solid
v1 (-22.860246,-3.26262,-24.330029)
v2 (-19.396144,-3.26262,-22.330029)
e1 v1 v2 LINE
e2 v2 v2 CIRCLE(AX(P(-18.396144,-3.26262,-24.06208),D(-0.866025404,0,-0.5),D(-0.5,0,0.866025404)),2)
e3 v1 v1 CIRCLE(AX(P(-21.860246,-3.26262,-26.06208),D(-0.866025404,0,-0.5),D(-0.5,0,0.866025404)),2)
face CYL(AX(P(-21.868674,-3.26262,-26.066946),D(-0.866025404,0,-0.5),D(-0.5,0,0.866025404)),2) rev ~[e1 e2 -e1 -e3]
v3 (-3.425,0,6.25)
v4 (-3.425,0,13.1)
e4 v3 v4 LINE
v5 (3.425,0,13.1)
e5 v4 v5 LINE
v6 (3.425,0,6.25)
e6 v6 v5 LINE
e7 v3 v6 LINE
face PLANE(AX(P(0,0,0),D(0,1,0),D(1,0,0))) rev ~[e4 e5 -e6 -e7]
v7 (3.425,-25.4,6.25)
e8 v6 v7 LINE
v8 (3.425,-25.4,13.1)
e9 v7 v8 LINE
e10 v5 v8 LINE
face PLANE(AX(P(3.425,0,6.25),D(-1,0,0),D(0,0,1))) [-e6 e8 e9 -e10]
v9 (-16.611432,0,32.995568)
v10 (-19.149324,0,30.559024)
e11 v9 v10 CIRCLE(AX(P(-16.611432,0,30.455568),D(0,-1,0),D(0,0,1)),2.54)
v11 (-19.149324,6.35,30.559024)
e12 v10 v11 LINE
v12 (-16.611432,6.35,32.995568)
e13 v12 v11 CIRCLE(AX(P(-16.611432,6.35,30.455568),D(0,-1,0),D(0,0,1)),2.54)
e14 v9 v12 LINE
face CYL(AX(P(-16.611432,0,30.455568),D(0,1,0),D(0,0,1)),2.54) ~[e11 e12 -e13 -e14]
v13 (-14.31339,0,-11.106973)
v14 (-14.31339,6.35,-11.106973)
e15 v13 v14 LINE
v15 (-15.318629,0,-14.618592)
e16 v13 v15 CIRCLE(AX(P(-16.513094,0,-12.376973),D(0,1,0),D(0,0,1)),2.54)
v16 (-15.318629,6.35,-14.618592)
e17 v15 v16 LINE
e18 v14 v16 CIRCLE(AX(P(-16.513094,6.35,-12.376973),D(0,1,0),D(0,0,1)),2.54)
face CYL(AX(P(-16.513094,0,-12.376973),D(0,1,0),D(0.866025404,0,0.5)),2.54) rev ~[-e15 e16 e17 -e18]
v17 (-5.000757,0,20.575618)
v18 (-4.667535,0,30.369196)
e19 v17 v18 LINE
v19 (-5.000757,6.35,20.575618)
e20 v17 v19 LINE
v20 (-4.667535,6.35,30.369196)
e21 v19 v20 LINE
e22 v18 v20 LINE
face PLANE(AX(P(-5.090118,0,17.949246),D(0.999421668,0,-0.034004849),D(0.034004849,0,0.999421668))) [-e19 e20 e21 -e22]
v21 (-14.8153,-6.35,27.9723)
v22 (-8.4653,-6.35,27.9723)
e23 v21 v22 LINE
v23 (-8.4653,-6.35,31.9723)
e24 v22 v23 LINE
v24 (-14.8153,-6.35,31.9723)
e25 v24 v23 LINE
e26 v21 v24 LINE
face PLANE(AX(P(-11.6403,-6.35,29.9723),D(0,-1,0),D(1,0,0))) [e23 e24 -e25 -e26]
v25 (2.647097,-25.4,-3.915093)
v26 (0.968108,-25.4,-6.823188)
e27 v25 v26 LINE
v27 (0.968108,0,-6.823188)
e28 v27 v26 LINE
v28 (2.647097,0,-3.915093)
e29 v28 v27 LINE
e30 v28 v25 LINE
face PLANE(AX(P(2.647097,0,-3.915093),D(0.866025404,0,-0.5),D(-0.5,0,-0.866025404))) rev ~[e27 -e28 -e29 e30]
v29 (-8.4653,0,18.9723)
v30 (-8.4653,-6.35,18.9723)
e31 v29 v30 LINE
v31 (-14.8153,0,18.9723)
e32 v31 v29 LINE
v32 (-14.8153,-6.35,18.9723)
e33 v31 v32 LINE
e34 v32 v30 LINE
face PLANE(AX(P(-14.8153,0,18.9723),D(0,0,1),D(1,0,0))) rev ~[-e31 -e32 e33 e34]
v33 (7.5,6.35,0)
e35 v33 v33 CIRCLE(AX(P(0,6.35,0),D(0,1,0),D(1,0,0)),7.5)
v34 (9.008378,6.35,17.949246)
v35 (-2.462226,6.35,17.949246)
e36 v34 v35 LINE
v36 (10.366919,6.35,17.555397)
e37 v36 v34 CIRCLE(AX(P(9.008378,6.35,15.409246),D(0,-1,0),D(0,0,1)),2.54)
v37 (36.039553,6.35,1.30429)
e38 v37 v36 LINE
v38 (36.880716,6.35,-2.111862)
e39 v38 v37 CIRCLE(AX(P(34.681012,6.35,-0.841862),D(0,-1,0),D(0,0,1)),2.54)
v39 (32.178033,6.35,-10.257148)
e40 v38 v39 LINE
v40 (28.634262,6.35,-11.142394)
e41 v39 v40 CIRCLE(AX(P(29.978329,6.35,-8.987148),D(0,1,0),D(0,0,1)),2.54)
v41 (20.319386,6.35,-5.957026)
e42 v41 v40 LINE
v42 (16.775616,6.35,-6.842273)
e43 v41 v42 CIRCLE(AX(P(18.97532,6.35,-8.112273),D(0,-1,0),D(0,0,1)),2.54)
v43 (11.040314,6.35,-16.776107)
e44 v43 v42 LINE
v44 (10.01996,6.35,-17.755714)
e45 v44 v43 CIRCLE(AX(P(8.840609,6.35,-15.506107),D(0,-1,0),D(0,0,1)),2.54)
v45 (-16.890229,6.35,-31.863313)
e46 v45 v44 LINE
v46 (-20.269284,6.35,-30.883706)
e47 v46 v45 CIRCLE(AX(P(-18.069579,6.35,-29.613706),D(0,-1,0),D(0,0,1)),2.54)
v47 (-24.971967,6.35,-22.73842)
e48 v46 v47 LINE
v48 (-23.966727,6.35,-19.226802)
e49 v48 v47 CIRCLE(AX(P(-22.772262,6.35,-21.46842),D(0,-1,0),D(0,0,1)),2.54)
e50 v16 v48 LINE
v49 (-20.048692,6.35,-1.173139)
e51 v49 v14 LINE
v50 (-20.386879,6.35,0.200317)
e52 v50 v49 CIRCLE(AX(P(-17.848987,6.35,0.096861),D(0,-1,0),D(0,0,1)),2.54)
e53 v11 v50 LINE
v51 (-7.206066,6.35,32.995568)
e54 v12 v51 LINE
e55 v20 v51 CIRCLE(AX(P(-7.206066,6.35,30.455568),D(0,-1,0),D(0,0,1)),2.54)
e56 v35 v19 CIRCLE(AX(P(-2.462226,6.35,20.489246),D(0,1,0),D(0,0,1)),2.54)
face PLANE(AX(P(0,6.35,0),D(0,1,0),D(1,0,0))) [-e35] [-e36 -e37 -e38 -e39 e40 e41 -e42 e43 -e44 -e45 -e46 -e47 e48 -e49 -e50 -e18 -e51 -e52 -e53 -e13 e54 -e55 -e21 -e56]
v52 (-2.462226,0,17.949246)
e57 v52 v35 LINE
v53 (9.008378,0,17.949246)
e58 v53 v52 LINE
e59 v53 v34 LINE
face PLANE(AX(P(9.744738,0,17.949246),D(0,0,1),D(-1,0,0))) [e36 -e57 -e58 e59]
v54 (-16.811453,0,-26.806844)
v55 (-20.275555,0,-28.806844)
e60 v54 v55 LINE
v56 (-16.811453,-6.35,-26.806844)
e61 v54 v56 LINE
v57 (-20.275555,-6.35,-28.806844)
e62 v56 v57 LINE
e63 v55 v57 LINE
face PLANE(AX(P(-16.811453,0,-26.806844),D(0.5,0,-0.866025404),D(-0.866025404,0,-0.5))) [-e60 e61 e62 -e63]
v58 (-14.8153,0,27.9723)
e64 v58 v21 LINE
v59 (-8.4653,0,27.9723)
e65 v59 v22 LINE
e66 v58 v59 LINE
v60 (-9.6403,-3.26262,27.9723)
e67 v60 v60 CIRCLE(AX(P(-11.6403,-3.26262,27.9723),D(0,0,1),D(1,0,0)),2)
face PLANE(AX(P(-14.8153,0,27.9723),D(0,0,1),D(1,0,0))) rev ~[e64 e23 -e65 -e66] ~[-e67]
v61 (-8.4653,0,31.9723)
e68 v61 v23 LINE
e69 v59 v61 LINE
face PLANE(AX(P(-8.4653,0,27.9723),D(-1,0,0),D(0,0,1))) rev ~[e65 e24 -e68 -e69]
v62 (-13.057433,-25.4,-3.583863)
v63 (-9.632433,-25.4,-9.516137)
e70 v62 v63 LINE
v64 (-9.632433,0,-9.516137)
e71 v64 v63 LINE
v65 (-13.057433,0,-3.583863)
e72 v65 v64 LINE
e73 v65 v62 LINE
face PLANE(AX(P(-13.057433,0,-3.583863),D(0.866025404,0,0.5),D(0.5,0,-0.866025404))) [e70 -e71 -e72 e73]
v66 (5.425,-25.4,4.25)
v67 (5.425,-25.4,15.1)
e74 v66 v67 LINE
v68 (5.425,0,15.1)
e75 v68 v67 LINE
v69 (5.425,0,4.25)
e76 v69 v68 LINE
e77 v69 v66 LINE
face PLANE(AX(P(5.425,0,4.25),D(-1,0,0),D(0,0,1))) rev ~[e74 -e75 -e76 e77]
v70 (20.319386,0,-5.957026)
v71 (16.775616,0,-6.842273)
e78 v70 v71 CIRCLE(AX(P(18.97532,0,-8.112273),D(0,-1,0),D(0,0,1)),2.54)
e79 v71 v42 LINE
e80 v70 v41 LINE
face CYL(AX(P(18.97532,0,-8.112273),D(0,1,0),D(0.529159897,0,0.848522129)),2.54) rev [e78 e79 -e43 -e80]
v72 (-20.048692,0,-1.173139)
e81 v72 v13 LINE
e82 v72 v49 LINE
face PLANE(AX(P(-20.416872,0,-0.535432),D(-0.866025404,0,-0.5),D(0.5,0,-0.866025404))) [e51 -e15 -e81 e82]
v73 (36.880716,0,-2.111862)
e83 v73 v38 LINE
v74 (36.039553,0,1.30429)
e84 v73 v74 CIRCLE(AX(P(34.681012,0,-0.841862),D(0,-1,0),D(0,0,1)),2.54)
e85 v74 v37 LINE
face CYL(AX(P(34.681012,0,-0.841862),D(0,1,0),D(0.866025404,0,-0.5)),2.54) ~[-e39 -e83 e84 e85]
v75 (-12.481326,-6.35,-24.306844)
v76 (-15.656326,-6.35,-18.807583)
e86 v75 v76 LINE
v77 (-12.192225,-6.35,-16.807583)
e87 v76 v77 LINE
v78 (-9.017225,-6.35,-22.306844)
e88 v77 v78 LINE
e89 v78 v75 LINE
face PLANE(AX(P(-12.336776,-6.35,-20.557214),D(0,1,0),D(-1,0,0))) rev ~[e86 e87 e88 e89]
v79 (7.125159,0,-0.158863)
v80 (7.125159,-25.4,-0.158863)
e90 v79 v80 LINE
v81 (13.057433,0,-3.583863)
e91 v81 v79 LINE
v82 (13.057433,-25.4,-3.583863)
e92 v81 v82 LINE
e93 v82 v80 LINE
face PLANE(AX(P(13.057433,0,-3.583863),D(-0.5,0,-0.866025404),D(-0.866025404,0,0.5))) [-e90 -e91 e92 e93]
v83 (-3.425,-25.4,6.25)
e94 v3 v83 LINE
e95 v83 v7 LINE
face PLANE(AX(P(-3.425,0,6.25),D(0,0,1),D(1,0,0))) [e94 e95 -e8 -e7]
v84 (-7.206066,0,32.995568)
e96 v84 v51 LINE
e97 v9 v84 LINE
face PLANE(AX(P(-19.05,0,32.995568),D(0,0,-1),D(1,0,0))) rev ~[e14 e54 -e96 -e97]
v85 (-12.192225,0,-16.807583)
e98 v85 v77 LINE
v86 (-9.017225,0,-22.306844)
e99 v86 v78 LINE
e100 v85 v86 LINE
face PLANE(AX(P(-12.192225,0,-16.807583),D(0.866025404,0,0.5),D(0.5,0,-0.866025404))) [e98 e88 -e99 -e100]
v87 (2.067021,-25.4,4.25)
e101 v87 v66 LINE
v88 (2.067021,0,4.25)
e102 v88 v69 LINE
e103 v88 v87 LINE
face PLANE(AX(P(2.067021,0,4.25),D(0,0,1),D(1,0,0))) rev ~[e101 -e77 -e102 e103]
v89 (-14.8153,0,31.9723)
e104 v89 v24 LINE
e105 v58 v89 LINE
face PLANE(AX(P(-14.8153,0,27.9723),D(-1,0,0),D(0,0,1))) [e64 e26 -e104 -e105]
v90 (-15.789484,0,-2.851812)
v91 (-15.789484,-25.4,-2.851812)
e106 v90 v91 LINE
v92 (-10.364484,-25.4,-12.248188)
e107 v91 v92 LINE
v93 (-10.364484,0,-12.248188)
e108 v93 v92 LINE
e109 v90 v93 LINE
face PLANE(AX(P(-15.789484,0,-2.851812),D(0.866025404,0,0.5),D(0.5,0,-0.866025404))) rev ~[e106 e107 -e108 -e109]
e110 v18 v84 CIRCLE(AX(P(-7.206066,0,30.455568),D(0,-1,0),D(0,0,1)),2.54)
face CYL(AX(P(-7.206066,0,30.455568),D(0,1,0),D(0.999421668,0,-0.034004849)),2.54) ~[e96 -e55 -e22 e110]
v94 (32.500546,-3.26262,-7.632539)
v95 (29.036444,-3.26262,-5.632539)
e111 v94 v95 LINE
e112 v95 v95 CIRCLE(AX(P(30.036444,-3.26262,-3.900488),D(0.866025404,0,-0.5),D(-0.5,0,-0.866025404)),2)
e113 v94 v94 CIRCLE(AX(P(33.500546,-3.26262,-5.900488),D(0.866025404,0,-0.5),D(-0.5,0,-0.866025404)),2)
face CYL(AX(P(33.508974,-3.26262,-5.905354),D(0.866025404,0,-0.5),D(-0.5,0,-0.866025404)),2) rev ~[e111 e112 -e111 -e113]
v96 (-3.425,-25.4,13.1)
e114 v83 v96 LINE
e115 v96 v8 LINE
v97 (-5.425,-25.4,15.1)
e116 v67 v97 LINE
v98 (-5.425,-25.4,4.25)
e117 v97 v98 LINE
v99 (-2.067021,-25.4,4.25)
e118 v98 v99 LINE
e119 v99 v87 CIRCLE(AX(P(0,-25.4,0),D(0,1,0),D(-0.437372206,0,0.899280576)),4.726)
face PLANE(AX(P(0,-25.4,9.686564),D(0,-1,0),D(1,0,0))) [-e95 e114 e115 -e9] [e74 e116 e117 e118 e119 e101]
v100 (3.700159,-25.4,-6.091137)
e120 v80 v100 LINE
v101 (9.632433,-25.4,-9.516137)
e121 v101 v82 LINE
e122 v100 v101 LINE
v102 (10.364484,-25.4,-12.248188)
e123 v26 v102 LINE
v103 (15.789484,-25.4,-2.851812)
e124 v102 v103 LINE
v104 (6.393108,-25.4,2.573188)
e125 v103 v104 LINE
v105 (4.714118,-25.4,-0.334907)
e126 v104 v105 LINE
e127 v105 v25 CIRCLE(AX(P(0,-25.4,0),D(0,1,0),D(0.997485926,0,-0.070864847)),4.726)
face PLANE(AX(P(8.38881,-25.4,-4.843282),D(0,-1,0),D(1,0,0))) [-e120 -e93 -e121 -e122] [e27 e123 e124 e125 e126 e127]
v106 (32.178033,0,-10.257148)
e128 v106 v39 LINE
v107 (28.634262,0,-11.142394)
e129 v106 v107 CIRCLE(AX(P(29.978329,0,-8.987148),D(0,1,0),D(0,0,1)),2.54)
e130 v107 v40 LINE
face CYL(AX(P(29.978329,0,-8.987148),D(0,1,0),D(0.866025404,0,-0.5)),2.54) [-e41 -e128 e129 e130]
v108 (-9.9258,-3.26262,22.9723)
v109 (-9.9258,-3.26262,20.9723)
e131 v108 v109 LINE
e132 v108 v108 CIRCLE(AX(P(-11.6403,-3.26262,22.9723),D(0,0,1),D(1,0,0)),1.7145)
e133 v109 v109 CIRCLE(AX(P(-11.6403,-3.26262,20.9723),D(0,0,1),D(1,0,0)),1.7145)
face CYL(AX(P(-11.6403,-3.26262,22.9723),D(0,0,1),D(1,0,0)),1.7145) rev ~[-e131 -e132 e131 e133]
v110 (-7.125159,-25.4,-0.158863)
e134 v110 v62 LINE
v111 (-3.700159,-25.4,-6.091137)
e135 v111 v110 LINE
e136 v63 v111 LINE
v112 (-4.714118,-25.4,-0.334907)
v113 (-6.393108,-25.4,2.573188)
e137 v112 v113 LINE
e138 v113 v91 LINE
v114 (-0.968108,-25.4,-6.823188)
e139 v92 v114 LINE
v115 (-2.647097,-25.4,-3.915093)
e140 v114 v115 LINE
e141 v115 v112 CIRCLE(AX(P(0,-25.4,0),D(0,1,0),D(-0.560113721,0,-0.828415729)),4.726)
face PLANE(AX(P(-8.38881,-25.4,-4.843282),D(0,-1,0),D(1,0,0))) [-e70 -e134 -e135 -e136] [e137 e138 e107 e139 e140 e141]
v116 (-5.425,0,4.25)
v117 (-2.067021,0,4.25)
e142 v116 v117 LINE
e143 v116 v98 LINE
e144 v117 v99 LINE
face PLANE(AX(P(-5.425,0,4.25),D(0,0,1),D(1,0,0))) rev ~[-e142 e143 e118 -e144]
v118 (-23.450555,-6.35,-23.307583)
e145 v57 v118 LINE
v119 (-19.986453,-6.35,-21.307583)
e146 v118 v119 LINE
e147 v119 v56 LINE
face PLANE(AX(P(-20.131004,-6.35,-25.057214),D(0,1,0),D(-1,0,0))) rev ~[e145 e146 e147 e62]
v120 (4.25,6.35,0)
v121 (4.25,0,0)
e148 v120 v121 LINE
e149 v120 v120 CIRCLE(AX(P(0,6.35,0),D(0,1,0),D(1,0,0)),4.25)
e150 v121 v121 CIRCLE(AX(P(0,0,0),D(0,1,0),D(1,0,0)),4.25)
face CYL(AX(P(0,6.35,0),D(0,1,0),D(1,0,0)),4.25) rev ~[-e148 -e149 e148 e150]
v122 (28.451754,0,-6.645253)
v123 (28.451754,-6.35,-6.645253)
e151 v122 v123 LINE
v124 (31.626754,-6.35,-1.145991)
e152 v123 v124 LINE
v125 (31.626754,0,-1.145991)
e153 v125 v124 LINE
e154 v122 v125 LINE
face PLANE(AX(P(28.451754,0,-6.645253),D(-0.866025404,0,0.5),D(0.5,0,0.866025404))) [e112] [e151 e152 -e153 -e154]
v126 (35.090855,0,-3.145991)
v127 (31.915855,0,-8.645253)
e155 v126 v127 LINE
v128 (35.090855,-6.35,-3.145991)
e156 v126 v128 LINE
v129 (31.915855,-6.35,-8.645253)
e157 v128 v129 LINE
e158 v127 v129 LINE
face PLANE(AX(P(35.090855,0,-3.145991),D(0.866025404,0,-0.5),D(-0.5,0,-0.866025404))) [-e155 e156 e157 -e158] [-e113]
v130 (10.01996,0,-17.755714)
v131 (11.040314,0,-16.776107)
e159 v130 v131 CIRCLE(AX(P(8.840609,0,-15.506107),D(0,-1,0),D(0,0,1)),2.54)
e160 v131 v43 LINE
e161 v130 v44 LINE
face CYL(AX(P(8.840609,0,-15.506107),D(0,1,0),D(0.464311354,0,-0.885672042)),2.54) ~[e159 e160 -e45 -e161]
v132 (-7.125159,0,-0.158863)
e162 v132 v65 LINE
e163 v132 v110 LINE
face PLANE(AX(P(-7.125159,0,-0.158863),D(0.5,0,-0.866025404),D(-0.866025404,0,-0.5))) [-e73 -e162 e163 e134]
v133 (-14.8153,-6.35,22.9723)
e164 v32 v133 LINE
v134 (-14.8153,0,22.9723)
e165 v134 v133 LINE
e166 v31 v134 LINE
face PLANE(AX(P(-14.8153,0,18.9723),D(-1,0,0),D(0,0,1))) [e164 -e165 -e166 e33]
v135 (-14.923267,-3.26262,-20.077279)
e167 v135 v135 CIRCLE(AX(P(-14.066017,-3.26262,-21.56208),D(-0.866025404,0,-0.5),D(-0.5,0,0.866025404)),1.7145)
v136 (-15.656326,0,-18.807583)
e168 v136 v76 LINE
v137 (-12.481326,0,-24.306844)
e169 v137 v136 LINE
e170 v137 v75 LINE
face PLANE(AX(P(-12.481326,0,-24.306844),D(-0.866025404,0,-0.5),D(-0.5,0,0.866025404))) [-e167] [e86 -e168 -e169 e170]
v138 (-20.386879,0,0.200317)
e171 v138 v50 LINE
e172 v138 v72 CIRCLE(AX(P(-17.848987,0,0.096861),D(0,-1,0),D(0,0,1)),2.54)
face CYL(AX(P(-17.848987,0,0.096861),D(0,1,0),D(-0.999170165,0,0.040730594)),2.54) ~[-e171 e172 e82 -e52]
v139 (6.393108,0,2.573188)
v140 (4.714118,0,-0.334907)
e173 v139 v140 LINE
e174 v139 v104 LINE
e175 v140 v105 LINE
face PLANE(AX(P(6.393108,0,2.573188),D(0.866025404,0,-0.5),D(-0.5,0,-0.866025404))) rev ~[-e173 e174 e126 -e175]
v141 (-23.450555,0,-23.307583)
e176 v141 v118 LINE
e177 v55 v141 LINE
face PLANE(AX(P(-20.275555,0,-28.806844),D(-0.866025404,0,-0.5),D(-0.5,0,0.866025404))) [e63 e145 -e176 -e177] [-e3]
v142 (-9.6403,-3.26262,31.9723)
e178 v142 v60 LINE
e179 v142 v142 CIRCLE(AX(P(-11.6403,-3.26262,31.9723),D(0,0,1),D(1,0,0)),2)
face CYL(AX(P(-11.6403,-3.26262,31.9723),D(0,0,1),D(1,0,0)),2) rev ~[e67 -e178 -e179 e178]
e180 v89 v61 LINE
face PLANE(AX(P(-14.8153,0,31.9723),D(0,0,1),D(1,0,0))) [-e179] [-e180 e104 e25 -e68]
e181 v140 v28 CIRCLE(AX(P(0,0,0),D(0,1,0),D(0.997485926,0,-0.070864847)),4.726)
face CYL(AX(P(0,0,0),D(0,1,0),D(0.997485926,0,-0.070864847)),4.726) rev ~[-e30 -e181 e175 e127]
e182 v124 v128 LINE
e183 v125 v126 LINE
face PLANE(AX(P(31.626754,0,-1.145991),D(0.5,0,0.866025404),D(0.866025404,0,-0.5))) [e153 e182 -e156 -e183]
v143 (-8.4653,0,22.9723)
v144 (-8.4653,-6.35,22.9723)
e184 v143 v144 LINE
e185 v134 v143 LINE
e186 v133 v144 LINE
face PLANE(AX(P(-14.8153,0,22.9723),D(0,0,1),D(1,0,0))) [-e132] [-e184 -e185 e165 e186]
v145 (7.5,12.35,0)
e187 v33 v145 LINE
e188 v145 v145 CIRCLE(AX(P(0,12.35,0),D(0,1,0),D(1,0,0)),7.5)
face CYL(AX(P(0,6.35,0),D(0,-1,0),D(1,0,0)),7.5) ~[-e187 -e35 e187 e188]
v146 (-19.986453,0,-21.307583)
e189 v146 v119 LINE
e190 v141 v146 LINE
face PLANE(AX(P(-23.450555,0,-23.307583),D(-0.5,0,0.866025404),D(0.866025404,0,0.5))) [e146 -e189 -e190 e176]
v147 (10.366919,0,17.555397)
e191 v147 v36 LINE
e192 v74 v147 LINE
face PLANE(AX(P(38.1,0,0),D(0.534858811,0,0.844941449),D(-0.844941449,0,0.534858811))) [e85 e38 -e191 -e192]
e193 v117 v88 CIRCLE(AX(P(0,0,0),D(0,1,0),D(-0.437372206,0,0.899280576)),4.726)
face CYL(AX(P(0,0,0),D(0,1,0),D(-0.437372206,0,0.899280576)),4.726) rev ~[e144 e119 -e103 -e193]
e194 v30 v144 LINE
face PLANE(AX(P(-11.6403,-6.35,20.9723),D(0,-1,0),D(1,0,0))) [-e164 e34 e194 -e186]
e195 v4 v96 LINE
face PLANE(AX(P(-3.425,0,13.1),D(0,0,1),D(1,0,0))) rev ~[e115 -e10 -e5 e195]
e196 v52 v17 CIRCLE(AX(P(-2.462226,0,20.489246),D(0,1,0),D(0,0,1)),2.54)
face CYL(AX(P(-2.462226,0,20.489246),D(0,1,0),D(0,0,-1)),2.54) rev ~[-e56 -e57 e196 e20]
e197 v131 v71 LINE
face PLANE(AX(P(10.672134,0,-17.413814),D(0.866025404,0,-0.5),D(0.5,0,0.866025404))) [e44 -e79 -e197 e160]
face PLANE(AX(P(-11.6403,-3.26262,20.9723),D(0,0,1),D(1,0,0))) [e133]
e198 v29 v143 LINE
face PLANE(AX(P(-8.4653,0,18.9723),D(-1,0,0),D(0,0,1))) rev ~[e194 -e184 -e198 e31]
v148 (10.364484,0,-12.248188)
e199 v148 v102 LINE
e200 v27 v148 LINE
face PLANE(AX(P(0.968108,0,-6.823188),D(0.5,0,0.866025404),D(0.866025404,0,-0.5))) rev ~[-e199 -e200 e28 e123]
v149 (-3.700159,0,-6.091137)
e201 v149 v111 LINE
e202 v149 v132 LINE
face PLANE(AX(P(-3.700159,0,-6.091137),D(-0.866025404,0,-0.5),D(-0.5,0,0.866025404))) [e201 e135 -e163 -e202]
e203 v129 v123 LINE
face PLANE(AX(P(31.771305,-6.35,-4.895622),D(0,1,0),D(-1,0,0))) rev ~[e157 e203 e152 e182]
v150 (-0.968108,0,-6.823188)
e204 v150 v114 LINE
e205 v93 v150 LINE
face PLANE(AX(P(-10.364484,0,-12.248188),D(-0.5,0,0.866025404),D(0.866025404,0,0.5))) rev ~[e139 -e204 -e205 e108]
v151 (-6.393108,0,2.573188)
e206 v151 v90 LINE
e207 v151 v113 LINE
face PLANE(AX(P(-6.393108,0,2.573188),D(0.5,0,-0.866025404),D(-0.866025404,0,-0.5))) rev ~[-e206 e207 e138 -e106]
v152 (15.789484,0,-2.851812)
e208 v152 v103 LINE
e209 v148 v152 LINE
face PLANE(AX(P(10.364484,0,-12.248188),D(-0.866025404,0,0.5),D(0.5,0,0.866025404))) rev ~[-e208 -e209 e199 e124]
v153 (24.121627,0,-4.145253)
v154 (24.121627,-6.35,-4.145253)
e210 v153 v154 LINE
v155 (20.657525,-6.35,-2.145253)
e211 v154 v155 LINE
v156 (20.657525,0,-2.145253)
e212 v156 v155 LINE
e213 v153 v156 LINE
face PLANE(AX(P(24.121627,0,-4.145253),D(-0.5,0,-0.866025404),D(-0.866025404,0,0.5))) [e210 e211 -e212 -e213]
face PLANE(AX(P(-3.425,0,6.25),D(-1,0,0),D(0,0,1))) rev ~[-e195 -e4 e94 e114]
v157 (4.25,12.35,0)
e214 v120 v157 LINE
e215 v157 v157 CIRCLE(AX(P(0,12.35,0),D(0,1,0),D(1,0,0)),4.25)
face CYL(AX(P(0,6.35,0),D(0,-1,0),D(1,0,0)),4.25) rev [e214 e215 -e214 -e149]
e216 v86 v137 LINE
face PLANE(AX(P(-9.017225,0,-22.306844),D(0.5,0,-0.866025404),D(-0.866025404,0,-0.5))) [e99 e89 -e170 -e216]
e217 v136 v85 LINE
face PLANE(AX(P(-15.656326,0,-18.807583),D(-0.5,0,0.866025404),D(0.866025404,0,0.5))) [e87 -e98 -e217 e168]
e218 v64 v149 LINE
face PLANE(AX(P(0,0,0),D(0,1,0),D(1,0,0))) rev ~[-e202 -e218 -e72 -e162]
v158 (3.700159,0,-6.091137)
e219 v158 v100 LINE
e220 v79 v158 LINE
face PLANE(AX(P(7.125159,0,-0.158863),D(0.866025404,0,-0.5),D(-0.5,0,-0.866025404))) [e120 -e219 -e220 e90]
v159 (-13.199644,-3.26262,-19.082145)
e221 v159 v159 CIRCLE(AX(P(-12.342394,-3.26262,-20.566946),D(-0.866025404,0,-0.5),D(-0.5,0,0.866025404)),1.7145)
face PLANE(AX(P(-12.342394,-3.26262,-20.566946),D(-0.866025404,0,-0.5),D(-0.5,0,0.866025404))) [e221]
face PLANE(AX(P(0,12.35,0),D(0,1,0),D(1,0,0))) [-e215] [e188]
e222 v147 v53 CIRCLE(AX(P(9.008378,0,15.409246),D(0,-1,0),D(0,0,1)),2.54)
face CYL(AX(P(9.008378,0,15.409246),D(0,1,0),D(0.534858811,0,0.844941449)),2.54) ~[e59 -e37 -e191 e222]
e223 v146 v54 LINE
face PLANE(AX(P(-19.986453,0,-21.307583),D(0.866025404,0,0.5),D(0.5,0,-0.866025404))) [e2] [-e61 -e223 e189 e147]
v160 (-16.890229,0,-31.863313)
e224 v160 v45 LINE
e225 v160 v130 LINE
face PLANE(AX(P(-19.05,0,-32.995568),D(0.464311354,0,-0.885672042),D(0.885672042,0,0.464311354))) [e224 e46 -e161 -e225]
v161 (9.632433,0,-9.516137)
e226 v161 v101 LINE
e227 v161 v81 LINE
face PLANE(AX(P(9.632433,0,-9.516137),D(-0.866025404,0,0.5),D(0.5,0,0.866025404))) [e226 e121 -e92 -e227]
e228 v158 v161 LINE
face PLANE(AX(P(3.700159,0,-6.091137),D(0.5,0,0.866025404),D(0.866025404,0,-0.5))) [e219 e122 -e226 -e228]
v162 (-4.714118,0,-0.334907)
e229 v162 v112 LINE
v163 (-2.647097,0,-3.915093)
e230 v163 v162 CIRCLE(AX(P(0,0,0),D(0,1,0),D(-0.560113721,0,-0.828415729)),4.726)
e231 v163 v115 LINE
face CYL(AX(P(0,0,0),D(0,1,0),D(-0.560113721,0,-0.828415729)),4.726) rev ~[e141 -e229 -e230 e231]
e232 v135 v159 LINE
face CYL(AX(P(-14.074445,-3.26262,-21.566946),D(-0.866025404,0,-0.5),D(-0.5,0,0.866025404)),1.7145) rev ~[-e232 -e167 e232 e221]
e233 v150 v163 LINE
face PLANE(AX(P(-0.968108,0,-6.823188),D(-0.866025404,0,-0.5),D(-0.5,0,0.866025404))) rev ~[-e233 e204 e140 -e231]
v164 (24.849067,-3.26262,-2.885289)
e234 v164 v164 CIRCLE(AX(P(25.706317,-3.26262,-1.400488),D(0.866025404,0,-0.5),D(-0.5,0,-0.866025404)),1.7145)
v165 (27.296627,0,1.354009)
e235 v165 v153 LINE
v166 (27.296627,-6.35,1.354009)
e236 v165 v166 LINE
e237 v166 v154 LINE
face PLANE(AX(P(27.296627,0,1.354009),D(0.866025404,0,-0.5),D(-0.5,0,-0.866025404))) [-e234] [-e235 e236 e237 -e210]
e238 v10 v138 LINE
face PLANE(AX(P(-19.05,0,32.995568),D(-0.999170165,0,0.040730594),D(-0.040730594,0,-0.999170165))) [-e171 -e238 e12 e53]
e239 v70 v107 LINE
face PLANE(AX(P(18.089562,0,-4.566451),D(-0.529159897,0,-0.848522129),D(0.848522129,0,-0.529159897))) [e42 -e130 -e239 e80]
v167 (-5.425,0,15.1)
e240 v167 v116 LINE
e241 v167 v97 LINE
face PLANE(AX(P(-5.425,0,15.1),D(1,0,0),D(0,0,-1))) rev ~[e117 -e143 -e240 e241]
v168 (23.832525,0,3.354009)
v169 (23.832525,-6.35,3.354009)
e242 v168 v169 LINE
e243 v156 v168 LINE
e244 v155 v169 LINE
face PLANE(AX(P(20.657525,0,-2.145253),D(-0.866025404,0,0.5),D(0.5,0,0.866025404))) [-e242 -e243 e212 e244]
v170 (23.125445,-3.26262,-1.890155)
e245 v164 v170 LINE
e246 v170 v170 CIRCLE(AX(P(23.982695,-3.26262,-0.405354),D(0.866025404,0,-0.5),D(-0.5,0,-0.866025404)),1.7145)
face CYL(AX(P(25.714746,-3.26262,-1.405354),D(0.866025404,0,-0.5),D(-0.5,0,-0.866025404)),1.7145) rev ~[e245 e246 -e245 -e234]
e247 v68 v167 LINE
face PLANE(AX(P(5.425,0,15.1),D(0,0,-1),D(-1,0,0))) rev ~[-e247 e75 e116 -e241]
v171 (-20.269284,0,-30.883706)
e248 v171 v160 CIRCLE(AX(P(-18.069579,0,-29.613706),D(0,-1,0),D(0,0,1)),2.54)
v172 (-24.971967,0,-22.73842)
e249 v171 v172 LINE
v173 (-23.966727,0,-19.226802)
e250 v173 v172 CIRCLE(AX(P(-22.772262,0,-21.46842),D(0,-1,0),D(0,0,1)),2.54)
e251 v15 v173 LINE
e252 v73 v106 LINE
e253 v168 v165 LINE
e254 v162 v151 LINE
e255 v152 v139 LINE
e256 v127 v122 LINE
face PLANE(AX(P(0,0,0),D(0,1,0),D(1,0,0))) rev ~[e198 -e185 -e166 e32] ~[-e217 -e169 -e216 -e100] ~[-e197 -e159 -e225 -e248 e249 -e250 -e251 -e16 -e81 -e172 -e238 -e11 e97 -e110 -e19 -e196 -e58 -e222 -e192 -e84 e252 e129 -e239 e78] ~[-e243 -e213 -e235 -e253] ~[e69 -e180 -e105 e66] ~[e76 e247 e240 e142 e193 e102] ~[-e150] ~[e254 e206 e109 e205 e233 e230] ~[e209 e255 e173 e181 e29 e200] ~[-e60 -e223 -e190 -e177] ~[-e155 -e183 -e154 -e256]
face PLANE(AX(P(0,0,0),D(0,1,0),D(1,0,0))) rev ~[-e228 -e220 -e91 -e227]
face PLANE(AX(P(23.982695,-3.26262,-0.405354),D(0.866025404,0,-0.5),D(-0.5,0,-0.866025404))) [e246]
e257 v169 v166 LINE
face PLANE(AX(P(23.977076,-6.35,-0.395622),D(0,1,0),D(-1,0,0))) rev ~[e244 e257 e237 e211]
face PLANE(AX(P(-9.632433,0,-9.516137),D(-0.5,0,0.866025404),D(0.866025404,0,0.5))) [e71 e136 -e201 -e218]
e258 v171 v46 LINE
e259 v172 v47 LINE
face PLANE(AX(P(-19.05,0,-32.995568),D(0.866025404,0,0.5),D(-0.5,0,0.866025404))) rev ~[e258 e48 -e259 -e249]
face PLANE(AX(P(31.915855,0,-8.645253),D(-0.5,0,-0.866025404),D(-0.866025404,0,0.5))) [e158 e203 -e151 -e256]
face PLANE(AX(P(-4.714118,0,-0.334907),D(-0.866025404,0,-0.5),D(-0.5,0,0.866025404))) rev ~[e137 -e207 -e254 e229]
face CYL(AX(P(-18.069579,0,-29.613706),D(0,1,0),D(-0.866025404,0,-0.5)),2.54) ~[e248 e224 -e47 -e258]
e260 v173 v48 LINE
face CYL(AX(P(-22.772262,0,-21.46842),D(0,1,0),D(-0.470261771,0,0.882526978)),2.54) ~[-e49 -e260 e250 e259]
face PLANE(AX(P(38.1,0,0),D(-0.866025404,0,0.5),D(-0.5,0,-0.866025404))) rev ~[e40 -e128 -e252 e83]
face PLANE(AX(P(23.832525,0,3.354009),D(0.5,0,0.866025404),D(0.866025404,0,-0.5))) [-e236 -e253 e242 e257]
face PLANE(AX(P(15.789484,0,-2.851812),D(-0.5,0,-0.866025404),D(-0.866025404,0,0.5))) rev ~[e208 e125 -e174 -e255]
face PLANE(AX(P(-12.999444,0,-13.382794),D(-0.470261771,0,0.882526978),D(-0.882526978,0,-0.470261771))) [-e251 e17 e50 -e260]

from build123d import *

# Parameters (mm, degrees)
BOSS_EXTRUDE1_DEPTH = 6.35
SKETCH6_R           = 4.250000001
CUT_EXTRUDE1_DEPTH  = 7.35
SKETCH2_W           = 6.85
SKETCH2_H           = 6.85
BOSS_EXTRUDE2_DEPTH = 25.4
SKETCH7_W           = 6.35
SKETCH7_H           = 4
BOSS_EXTRUDE3_DEPTH = 6.35
SKETCH9_R           = 2
CUT_EXTRUDE2_DEPTH  = 6.540000128
CIRPATTERN1_COUNT   = 3
SKETCH10_R          = 1.7145
CUT_EXTRUDE3_DEPTH  = 2
CIRPATTERN2_COUNT   = 3
CUT_EXTRUDE4_DEPTH  = 6.35
FILLET1_R           = 2.54
SKETCH12_R          = 7.5
SKETCH12_R_2        = 4.250000001
BOSS_EXTRUDE4_DEPTH = 6


with BuildPart() as part:
    # Sketch1 → Boss-Extrude1 (new body)
    with BuildSketch(Plane(origin=(0, 0, 0), x_dir=(1, 0, 0), z_dir=(0, 1, 0))):
        Polygon((19.05, -32.995567884), (38.1, 0), (19.05, 32.995567884), (-19.05, 32.995567884), (-38.1, 0), (-19.05, -32.995567884), align=None)
    extrude(amount=BOSS_EXTRUDE1_DEPTH)

    # Sketch6 → Cut-Extrude1 (cut, through all)
    with BuildSketch(Plane(origin=(0, 6.35, 0), x_dir=(1, 0, 0), z_dir=(0, 1, 0))):
        Circle(SKETCH6_R)
    extrude(amount=-CUT_EXTRUDE1_DEPTH, mode=Mode.SUBTRACT)

    # Sketch2 → Boss-Extrude2 (add)
    with BuildSketch(Plane.XZ):
        with BuildLine():
            Line((-5.425, 15.1), (-5.425, 4.25))
            Line((-5.425, 4.25), (-2.067021045, 4.25))
            ThreePointArc((-2.067021045, 4.25), (0, 4.726), (2.067021045, 4.25))
            Line((2.067021045, 4.25), (5.425, 4.25))
            Line((5.425, 4.25), (5.425, 15.1))
            Line((5.425, 15.1), (-5.425, 15.1))
        make_face()
        with Locations((0, 9.675)):
            Rectangle(SKETCH2_W, SKETCH2_H, mode=Mode.SUBTRACT)
        with BuildLine():
            Line((2.647097444, -3.915092735), (0.968107966, -6.823187816))
            Line((0.968107966, -6.823187816), (10.364483597, -12.248187816))
            Line((10.364483597, -12.248187816), (15.789483597, -2.851812184))
            Line((15.789483597, -2.851812184), (6.393107966, 2.573187816))
            Line((6.393107966, 2.573187816), (4.714118489, -0.334907265))
            ThreePointArc((4.714118489, -0.334907265), (4.092836058, -2.363), (2.647097444, -3.915092735))
        make_face()
        Polygon((13.05743279, -3.583862992), (7.125158774, -0.158862992), (3.700158774, -6.091137008), (9.63243279, -9.516137008), align=None, mode=Mode.SUBTRACT)
        with BuildLine():
            Line((-4.714118489, -0.334907265), (-6.393107966, 2.573187816))
            Line((-6.393107966, 2.573187816), (-15.789483597, -2.851812184))
            Line((-15.789483597, -2.851812184), (-10.364483597, -12.248187816))
            Line((-10.364483597, -12.248187816), (-0.968107966, -6.823187816))
            Line((-0.968107966, -6.823187816), (-2.647097444, -3.915092735))
            ThreePointArc((-2.647097444, -3.915092735), (-4.092836058, -2.363), (-4.714118489, -0.334907265))
        make_face()
        Polygon((-9.63243279, -9.516137008), (-3.700158774, -6.091137008), (-7.125158774, -0.158862992), (-13.05743279, -3.583862992), align=None, mode=Mode.SUBTRACT)
    extrude(amount=BOSS_EXTRUDE2_DEPTH)

    # Sketch7 → Boss-Extrude3 (add)
    with BuildSketch(Plane.XZ):
        with Locations((-11.640300372, 20.97230006)):
            Rectangle(SKETCH7_W, SKETCH7_H)
        with Locations((-11.640300372, 29.97230006)):
            Rectangle(SKETCH7_W, SKETCH7_H)
        Polygon((27.296626747, 1.354008633), (24.121626747, -4.145252681), (20.657525132, -2.145252681), (23.832525132, 3.354008633), align=None)
        Polygon((31.626753766, -1.145991367), (35.090855381, -3.145991367), (31.915855381, -8.645252681), (28.451753766, -6.645252681), align=None)
        Polygon((-12.481326375, -24.306844341), (-15.656326375, -18.807583027), (-12.19222476, -16.807583027), (-9.01722476, -22.306844341), align=None)
        Polygon((-16.811453394, -26.806844341), (-20.275555009, -28.806844341), (-23.450555009, -23.307583027), (-19.986453394, -21.307583027), align=None)
    extrude(amount=BOSS_EXTRUDE3_DEPTH)

    # Sketch9 → Cut-Extrude2 (cut)
    with BuildSketch(Plane.XY.offset(31.97230006)):
        with Locations((-11.640300372, -3.262620176)):
            Circle(SKETCH9_R)
    cut_extrude2 = extrude(amount=-CUT_EXTRUDE2_DEPTH, mode=Mode.SUBTRACT)

    # CirPattern1: Cut-Extrude2 ×3 about axis
    cirpattern1_axis = Axis((0, 0, 0), (0, 1, 0))
    for i in range(1, CIRPATTERN1_COUNT):
        add(cut_extrude2.rotate(cirpattern1_axis, i * 360 / CIRPATTERN1_COUNT), mode=Mode.SUBTRACT)

    # Sketch10 → Cut-Extrude3 (cut)
    with BuildSketch(Plane.XY.offset(22.97230006)):
        with Locations((-11.640300372, -3.262620176)):
            Circle(SKETCH10_R)
    cut_extrude3 = extrude(amount=-CUT_EXTRUDE3_DEPTH, mode=Mode.SUBTRACT)

    # CirPattern2: Cut-Extrude3 ×3 about axis
    cirpattern2_axis = Axis((0, 0, 0), (0, 1, 0))
    for i in range(1, CIRPATTERN2_COUNT):
        add(cut_extrude3.rotate(cirpattern2_axis, i * 360 / CIRPATTERN2_COUNT), mode=Mode.SUBTRACT)

    # Sketch11 → Cut-Extrude4 (cut)
    with BuildSketch(Plane.XZ):
        Polygon((-38.1, 0), (-19.05, 32.995567884), (-20.416871812, -0.535432071), (-12.999443709, -13.382794406), (-26.285912957, -20.462599003), align=None)
        Polygon((19.05, 32.995567884), (38.1, 0), (9.74473813, 17.94924569), (-5.090118075, 17.94924569), (-4.578174086, 32.995567884), align=None)
        Polygon((19.05, -32.995567884), (-19.05, -32.995567884), (10.672133681, -17.413813619), (18.089561784, -4.566451284), (30.864087043, -12.532968881), align=None)
    extrude(amount=-CUT_EXTRUDE4_DEPTH, mode=Mode.SUBTRACT)

    # Fillet1
    fillet1_edges = [part.edges().sort_by_distance(p)[0] for p in [
        (38.1, 3.175, 0),
        (-19.05, 3.175, 32.995567884),
        (-19.05, 3.175, -32.995567884),
        (18.089561784, 3.175, -4.566451284),
        (10.672133681, 3.175, -17.413813619),
        (30.864087043, 3.175, -12.532968881),
        (-5.090118075, 3.175, 17.94924569),
        (9.74473813, 3.175, 17.94924569),
        (-4.578174086, 3.175, 32.995567884),
        (-12.999443709, 3.175, -13.382794406),
        (-20.416871812, 3.175, -0.535432071),
        (-26.285912957, 3.175, -20.462599003),
    ]]
    fillet(fillet1_edges, radius=FILLET1_R)

    # Sketch12 → Boss-Extrude4 (add)
    with BuildSketch(Plane(origin=(0, 6.35, 0), x_dir=(1, 0, 0), z_dir=(0, 1, 0))):
        Circle(SKETCH12_R)
        Circle(SKETCH12_R_2, mode=Mode.SUBTRACT)
    extrude(amount=BOSS_EXTRUDE4_DEPTH)


solid = part.part
